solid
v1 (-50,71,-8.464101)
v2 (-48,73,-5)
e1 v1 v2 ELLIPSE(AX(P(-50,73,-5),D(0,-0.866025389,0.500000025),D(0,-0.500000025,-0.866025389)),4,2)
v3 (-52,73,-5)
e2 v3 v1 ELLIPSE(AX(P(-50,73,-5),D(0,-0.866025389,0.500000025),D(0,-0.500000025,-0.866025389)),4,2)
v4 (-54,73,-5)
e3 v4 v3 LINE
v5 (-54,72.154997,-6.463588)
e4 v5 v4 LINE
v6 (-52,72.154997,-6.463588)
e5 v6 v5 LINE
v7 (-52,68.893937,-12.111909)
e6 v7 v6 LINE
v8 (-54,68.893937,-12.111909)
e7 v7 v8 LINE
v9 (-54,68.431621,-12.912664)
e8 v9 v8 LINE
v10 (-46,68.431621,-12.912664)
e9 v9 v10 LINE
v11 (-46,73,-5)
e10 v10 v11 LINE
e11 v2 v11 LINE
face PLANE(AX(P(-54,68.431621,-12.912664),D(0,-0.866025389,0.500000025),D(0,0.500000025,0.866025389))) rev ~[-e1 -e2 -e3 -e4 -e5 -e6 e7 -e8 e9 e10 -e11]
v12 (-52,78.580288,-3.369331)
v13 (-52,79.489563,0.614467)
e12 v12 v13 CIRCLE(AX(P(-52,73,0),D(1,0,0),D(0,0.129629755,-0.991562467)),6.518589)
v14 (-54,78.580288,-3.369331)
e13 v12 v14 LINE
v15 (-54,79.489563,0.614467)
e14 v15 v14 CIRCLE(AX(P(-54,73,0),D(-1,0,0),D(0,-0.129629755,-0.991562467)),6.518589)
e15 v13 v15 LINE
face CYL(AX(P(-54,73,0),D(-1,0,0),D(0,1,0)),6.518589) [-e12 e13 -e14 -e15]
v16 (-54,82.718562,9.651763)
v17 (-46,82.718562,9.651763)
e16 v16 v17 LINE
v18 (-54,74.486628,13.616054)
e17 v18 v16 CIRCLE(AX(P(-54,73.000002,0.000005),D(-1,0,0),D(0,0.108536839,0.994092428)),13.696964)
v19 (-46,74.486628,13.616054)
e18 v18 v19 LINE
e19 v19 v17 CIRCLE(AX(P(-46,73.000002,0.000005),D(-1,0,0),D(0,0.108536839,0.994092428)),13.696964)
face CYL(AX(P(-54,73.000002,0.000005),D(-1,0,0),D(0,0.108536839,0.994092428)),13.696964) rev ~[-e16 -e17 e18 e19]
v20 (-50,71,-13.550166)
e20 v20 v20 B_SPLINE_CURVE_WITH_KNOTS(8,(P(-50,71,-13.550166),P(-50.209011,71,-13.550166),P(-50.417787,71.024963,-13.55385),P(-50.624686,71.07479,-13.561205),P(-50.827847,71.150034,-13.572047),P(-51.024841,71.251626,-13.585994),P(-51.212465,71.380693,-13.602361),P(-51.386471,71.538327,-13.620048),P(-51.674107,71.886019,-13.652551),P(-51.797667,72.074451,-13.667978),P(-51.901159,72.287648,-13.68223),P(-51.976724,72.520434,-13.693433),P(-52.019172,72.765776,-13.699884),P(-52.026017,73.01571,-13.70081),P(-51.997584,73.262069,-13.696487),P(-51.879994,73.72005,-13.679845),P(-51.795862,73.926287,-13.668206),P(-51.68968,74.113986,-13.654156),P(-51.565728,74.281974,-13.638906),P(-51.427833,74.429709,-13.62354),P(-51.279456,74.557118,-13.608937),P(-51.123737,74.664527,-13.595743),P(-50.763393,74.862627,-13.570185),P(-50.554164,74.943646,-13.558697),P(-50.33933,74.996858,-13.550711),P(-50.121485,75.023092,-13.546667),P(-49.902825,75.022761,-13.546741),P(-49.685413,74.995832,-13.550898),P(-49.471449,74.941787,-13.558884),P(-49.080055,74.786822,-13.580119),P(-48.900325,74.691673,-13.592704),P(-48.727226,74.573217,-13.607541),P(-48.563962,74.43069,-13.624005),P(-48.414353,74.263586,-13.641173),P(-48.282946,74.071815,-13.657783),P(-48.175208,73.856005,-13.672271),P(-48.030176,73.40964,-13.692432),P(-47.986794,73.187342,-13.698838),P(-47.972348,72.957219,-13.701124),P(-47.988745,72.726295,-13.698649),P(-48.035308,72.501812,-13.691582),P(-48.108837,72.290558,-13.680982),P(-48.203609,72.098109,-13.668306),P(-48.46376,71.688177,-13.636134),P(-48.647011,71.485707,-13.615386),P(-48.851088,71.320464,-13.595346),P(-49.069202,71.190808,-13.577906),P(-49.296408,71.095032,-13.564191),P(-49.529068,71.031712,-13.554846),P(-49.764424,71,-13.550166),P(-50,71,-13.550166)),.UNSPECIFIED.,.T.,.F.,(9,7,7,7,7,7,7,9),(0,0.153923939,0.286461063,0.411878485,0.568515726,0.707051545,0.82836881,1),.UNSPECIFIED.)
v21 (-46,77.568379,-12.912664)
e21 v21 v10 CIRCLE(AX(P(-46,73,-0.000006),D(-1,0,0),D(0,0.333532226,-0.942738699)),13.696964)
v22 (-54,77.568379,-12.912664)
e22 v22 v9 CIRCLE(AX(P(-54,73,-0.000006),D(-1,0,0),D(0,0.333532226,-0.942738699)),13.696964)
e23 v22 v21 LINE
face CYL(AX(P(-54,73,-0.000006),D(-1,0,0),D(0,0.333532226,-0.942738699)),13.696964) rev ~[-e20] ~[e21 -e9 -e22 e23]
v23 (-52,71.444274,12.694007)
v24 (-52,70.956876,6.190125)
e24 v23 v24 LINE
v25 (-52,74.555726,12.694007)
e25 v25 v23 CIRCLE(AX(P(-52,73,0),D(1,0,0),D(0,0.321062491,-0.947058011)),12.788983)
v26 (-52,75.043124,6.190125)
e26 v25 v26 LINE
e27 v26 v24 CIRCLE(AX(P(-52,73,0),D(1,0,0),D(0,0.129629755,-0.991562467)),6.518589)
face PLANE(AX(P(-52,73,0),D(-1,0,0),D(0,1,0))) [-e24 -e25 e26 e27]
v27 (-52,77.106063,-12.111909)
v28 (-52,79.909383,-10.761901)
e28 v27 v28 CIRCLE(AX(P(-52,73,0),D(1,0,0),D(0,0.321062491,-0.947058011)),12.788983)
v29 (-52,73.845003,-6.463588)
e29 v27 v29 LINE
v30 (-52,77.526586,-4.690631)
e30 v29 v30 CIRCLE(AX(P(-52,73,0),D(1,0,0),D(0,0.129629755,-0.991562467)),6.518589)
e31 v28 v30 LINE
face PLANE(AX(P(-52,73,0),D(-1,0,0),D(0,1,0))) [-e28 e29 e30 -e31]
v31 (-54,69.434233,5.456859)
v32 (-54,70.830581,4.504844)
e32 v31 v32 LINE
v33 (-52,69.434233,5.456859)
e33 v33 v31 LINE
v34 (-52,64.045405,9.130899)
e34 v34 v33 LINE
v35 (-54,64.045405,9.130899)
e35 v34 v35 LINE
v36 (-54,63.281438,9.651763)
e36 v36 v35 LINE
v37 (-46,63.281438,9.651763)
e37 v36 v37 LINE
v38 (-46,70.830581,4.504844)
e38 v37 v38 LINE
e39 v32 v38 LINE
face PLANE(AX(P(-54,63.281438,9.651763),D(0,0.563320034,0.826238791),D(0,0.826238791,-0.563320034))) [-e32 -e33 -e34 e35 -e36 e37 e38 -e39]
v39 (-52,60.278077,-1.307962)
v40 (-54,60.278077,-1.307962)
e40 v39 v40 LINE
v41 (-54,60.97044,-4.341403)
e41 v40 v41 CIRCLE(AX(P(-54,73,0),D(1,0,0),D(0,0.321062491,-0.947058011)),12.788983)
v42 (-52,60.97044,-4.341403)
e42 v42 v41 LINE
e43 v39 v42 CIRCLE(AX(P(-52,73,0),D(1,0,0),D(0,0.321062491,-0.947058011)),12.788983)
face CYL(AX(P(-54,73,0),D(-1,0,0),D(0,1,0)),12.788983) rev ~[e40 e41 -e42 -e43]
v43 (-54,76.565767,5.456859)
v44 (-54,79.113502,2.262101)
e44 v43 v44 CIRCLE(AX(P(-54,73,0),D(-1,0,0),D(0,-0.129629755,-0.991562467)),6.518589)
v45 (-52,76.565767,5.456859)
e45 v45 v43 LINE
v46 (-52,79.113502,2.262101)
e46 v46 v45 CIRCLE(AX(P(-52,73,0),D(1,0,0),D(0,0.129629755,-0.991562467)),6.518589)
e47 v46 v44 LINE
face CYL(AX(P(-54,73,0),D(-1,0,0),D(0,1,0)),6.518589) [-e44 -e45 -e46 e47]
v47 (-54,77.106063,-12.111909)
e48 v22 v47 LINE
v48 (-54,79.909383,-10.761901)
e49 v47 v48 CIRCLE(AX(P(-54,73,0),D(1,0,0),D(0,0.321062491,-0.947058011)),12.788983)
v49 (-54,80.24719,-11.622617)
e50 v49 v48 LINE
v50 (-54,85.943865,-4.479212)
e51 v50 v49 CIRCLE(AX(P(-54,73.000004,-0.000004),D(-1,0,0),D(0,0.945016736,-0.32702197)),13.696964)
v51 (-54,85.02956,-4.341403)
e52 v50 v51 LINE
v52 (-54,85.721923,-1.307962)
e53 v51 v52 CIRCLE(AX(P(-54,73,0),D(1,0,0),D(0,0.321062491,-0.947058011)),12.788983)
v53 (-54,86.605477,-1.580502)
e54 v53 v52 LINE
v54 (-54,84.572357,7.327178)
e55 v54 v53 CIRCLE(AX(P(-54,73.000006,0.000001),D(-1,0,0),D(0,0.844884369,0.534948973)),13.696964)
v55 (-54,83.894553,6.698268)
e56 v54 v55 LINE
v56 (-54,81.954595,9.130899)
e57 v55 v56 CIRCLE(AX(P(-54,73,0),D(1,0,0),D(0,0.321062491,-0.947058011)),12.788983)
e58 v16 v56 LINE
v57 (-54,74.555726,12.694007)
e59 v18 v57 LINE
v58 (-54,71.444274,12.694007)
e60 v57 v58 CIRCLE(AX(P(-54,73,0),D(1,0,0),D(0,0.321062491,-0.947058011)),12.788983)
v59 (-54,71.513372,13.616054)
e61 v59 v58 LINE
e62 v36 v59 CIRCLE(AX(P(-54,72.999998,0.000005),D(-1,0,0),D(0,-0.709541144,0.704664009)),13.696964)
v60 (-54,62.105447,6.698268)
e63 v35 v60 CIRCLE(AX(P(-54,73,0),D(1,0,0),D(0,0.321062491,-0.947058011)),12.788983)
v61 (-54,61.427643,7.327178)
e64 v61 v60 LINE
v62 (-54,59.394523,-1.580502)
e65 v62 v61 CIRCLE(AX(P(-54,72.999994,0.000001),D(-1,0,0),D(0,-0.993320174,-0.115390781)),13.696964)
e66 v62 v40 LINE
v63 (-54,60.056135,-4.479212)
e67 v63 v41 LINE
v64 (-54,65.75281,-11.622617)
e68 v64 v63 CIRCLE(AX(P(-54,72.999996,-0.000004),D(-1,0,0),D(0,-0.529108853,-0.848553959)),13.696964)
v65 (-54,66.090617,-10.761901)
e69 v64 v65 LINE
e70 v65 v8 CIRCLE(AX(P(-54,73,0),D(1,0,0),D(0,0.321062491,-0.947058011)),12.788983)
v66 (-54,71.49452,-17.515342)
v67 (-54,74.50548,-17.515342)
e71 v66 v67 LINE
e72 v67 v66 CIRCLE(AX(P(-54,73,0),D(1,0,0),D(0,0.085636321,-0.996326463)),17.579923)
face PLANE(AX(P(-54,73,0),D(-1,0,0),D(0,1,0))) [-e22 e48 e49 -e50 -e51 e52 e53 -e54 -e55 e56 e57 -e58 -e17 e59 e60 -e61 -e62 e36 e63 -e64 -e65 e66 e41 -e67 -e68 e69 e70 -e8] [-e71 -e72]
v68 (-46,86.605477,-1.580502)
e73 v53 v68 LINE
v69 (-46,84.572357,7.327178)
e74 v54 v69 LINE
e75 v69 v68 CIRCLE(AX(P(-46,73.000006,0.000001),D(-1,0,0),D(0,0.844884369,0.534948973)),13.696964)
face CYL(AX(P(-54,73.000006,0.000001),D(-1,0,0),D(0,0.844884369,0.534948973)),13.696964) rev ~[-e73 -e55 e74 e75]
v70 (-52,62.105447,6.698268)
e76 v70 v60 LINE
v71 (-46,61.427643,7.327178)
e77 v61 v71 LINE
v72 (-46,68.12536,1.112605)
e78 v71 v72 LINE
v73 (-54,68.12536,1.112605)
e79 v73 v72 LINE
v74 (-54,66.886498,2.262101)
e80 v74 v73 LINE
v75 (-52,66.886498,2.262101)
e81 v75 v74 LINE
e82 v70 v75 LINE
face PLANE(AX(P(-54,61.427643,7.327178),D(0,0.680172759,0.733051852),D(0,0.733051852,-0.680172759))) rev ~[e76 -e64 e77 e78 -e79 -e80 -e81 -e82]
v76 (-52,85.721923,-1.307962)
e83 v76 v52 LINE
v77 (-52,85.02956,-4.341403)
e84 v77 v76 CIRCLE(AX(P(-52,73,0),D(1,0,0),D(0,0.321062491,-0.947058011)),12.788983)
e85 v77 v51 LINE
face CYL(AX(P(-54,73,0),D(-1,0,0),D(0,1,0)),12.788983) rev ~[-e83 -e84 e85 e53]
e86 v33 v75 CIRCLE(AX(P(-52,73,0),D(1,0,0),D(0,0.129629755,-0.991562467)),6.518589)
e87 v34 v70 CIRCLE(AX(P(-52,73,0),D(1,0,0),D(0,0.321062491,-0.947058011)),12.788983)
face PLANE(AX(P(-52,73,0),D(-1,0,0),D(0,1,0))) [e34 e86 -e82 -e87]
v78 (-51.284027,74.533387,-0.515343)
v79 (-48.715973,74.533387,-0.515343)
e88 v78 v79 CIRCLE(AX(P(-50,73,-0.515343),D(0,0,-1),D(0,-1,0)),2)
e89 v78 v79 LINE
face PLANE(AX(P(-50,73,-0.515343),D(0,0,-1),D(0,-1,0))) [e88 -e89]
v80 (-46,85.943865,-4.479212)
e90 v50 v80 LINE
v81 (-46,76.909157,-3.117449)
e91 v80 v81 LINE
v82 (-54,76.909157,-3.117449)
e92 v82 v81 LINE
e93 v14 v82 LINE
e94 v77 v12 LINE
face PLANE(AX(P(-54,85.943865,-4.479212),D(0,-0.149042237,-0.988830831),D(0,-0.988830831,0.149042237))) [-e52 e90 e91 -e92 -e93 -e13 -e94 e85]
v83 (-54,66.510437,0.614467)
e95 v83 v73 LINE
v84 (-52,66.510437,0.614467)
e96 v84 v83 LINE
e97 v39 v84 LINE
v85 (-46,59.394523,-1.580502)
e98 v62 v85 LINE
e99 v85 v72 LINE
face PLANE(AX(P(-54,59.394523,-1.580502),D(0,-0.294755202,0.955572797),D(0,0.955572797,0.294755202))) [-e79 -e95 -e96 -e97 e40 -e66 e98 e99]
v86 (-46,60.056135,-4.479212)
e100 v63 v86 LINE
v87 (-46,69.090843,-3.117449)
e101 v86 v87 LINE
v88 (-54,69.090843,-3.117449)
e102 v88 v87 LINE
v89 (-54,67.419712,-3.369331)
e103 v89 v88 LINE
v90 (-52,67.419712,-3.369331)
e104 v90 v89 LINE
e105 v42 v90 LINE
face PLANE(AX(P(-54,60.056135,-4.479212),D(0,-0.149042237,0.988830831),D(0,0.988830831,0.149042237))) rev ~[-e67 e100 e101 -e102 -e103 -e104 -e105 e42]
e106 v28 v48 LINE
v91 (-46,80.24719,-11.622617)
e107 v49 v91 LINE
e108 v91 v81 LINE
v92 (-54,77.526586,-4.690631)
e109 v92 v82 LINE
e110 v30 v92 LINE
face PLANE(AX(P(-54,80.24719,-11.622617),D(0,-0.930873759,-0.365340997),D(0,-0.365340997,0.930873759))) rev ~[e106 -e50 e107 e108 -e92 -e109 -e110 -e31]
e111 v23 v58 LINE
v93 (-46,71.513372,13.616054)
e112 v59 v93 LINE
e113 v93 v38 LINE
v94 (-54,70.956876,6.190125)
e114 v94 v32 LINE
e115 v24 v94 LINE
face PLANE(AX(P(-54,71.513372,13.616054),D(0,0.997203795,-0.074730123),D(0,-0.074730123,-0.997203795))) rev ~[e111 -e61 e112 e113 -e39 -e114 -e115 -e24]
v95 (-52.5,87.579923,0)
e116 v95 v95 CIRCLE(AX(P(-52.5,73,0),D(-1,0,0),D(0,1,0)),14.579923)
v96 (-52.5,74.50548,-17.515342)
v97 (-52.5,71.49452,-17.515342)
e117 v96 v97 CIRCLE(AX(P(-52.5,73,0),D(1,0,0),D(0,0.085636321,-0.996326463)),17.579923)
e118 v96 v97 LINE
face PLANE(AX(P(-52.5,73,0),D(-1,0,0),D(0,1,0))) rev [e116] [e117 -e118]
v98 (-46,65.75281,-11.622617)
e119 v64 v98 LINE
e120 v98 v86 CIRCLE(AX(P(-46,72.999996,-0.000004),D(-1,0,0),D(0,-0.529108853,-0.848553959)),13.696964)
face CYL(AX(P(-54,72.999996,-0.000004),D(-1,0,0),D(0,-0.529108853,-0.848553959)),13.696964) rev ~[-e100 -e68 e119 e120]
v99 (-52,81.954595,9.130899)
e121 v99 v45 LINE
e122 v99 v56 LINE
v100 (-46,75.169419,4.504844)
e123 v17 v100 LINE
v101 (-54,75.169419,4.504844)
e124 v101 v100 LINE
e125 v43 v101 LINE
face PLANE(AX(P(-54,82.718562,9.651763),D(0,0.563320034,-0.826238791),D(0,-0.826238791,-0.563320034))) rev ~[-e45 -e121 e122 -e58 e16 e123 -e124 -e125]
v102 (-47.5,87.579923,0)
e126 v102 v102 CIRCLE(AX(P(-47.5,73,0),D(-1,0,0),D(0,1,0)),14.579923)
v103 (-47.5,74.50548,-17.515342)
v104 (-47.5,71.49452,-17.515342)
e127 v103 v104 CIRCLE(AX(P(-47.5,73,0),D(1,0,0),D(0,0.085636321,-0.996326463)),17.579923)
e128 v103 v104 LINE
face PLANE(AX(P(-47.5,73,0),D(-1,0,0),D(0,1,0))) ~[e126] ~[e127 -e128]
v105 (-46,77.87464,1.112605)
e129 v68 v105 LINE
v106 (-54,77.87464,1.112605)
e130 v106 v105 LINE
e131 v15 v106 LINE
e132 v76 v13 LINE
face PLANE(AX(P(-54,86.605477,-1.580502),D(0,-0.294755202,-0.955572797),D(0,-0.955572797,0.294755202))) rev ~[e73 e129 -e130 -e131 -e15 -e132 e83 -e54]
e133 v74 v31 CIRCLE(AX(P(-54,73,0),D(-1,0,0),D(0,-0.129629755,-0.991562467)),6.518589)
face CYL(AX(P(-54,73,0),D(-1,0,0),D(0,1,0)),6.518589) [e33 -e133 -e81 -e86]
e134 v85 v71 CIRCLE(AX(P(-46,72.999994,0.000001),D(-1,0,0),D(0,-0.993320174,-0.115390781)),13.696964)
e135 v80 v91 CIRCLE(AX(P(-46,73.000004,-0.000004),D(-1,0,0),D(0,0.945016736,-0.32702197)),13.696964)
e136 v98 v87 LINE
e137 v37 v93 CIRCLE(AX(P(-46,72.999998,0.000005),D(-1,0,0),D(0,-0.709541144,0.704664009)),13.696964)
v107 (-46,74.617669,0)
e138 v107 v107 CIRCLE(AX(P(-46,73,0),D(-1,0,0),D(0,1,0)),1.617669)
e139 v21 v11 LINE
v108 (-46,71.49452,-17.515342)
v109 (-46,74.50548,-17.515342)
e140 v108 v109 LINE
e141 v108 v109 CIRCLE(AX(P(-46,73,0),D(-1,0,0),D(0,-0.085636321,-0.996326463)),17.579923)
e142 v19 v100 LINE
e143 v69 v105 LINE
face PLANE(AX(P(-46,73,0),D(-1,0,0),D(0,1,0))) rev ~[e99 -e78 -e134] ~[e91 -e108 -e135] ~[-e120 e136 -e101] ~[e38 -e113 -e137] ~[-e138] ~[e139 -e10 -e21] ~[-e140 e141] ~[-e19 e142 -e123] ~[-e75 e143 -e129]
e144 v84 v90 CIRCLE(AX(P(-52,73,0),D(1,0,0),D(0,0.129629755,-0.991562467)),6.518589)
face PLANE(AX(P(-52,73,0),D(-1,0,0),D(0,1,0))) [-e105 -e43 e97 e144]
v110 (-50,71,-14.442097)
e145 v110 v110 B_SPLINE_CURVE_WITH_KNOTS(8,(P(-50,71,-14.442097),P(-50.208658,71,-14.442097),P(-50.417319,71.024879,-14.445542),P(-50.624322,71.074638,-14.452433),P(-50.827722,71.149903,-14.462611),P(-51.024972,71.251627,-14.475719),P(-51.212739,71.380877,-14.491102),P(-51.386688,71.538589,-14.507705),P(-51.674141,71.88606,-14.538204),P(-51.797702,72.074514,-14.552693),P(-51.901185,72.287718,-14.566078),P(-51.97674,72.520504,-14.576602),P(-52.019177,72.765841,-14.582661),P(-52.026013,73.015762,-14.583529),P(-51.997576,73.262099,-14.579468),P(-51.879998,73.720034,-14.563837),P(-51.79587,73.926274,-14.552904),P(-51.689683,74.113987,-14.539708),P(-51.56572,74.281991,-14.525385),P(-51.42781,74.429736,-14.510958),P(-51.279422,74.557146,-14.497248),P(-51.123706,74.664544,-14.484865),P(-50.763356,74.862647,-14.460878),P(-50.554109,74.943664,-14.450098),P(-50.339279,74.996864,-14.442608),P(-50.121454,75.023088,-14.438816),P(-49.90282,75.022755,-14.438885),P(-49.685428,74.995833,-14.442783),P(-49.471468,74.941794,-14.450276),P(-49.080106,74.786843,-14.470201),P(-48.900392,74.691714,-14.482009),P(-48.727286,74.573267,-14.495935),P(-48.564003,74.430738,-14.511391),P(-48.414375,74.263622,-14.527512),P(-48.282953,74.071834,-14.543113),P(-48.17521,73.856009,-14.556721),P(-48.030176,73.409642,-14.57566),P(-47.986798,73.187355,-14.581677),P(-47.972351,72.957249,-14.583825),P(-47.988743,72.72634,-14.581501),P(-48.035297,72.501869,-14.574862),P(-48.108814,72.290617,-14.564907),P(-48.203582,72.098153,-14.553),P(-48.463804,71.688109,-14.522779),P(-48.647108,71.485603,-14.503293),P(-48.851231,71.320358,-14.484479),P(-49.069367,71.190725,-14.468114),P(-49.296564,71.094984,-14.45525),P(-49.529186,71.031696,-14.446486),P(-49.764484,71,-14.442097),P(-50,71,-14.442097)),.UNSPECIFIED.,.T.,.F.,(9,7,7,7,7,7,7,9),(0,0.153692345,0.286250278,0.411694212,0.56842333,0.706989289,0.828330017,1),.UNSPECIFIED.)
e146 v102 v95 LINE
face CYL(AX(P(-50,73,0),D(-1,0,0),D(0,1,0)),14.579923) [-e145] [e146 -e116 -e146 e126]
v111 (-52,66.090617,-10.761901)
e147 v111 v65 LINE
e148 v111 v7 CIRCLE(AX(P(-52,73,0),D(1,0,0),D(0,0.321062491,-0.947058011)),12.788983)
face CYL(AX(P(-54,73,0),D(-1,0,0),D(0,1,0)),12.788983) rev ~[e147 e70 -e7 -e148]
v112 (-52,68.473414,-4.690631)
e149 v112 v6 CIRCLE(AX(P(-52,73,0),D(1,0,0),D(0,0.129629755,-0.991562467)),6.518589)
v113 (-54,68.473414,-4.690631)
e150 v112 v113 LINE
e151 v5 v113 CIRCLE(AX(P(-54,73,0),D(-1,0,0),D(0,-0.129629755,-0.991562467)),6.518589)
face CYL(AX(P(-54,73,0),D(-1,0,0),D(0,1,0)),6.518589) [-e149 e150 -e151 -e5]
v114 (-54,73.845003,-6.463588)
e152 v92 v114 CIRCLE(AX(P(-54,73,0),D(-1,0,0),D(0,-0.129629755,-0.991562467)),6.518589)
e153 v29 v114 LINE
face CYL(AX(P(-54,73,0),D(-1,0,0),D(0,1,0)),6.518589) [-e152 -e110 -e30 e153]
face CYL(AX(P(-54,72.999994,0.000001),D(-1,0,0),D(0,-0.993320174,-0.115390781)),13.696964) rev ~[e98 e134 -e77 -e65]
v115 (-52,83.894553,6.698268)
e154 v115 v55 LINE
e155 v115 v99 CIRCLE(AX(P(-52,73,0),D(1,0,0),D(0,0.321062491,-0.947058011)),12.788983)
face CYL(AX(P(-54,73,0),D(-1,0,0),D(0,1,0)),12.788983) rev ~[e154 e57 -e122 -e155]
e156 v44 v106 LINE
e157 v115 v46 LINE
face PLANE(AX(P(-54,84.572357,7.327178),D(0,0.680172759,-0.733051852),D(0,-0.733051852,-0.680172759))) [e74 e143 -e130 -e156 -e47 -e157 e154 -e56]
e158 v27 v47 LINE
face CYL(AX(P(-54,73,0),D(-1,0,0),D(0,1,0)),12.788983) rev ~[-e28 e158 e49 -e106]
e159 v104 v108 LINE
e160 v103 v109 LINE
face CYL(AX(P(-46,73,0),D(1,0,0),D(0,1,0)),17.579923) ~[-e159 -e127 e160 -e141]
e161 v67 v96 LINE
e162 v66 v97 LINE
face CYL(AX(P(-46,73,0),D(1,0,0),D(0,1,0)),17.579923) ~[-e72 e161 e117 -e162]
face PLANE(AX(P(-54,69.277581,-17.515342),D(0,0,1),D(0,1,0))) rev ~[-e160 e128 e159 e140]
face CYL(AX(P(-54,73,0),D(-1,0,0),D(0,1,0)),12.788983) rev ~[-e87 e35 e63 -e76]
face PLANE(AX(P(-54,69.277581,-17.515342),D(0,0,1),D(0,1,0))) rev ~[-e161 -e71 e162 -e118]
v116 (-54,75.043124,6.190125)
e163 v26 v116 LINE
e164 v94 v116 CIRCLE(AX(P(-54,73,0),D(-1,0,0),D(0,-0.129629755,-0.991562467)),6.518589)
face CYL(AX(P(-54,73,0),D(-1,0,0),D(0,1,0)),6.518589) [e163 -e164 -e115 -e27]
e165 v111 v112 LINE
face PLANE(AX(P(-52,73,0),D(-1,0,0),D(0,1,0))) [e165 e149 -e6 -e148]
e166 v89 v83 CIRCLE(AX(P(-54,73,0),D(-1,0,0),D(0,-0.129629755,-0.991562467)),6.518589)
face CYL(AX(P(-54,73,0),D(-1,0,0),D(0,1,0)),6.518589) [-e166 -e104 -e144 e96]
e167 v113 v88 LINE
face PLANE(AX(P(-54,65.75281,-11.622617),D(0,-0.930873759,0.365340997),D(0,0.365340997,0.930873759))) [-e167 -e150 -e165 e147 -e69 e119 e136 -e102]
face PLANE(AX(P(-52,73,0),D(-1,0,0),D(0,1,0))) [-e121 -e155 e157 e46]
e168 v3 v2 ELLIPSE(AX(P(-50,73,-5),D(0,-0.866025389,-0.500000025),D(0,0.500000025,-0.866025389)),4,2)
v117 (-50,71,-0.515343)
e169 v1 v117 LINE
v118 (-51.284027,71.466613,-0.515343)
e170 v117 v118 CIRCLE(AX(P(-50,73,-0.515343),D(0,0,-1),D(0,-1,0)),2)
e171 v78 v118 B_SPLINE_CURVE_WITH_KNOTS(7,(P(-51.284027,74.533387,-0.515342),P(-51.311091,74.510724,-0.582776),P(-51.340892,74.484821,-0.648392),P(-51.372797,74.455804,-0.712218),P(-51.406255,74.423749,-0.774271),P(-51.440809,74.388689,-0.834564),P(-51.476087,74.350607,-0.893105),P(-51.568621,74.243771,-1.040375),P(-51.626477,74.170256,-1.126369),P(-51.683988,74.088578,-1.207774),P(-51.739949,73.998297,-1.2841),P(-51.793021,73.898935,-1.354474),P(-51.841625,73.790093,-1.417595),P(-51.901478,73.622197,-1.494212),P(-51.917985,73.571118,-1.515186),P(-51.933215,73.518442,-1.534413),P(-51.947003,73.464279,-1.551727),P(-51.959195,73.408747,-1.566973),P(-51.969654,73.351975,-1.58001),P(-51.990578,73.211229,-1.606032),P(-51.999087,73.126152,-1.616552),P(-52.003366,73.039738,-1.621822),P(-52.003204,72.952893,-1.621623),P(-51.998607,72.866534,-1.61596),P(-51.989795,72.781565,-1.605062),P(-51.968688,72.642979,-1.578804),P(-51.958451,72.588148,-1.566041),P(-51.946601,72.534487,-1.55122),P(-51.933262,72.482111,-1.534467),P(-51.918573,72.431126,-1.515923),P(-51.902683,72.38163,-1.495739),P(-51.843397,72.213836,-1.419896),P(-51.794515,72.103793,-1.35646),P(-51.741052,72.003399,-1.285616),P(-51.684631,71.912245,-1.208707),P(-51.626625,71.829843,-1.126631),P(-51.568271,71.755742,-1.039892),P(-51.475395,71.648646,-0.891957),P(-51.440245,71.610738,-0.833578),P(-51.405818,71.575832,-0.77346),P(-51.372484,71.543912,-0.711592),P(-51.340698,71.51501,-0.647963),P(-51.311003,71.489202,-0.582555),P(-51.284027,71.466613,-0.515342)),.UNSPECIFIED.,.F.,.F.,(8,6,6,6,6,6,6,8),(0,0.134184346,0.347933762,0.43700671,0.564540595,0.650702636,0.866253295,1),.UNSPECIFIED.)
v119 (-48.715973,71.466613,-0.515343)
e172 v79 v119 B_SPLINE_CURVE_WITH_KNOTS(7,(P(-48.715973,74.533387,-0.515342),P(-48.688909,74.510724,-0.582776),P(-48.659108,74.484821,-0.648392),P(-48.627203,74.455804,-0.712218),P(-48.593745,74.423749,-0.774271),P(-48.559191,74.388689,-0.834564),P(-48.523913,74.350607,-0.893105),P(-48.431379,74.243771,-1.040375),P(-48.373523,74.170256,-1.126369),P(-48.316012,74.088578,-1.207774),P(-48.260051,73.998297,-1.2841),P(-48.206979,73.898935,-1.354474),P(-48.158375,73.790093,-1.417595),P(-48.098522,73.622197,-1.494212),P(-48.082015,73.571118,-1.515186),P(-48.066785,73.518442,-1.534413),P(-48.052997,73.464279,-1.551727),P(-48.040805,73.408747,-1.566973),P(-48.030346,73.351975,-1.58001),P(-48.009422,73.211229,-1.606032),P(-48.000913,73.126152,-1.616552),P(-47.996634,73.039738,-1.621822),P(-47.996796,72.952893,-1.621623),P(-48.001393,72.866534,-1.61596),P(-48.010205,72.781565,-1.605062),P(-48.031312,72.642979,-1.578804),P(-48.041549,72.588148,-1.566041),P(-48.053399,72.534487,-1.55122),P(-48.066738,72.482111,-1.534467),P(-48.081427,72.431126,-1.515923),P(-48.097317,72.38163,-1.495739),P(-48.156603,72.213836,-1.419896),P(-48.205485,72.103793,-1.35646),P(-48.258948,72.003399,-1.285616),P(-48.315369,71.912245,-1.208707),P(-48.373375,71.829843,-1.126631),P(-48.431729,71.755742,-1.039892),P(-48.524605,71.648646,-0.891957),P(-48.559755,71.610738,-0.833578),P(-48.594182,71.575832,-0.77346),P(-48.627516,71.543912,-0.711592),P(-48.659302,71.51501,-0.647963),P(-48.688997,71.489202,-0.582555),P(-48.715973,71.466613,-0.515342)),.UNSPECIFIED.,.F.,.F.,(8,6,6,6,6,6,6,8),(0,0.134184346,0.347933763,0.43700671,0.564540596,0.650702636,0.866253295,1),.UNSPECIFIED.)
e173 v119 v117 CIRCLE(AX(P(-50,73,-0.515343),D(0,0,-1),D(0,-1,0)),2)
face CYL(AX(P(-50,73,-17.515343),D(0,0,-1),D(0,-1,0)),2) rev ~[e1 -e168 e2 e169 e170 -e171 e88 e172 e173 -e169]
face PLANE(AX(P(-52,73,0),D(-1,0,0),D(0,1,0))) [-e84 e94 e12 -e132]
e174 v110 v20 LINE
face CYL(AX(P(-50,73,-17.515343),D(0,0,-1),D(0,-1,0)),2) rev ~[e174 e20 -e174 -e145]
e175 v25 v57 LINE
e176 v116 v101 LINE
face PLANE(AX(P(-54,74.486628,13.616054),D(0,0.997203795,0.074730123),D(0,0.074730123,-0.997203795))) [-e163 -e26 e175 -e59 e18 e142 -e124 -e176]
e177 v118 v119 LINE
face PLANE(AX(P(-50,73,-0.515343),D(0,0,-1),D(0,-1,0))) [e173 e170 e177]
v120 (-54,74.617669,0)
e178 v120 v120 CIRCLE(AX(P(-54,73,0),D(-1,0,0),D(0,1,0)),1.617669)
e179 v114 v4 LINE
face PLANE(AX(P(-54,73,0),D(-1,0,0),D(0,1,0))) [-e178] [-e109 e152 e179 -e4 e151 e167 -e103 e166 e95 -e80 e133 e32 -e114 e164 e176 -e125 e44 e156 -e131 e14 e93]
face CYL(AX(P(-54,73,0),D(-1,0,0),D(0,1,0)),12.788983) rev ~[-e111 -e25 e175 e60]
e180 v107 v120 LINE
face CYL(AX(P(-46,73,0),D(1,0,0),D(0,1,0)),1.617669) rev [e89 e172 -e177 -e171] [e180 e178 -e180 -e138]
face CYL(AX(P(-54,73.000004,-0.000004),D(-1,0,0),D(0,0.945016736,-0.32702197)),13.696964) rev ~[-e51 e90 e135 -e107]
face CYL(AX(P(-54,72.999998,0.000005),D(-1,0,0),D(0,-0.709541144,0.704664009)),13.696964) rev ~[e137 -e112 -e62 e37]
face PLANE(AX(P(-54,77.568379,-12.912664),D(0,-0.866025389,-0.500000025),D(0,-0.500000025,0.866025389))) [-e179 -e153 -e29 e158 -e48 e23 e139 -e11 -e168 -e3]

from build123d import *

# Parameters (mm, degrees)
SKETCH100_R             = 17.579923
SKETCH100_R_2           = 1.617669
PAD044_DEPTH            = 8
SKETCH101_W             = 5
SKETCH101_H             = 3
SKETCH102_R             = 12.788983
SKETCH102_R_2           = 6.518589
POCKET072_DEPTH         = 2
SKETCH103_W             = 7.319854
SKETCH103_H             = 4.413105
POCKET073_DEPTH         = 8.001
POCKET075_DEPTH         = 108.636829
POLARPATTERN003_COUNT   = 7
SKETCH112_R             = 2
POCKET079_DEPTH         = 17
BODY019_PLACEMENT_ANGLE = 180


with BuildPart() as part:
    # Sketch100 → Pad044 (new body)
    with BuildSketch(Plane.YZ):
        Circle(SKETCH100_R)
        Circle(SKETCH100_R_2, mode=Mode.SUBTRACT)
    extrude(amount=PAD044_DEPTH)

    # Sketch101 → Groove003 (revolve, cut)
    with BuildSketch(Plane.XY):
        with Locations((4, 16.079923)):
            Rectangle(SKETCH101_W, SKETCH101_H)
    revolve(axis=Axis((0, 0, 0), (1, 0, 0)), mode=Mode.SUBTRACT)

    # Sketch102 (on Face6 of Groove003) → Pocket072 (cut)
    with BuildSketch(Plane.YZ.offset(8)):
        Circle(SKETCH102_R)
        Circle(SKETCH102_R_2, mode=Mode.SUBTRACT)
    extrude(amount=-POCKET072_DEPTH, mode=Mode.SUBTRACT)

    # Sketch103 (on Face11 of Pocket072) → Pocket073 (cut, through all)
    with BuildSketch(Plane.YZ.offset(8)):
        with Locations((-0.062492, 19.721895)):
            Rectangle(SKETCH103_W, SKETCH103_H)
    extrude(amount=-POCKET073_DEPTH, mode=Mode.SUBTRACT)

    # Sketch105 → Pocket075 (cut, through all)
    with BuildSketch(Plane.YZ.offset(8)):
        with BuildLine():
            ThreePointArc((4.568379, 12.912664), (0, 13.69697), (-4.568379, 12.912664))
            Line((-4.568379, 12.912664), (0, 5))
            Line((4.568379, 12.912664), (0, 5))
        make_face()
    pocket075 = extrude(amount=-POCKET075_DEPTH, mode=Mode.SUBTRACT)

    # PolarPattern003: Pocket075 ×7 about axis
    polarpattern003_axis = Axis((0, 0, 0), (1, 0, 0))
    for i in range(1, POLARPATTERN003_COUNT):
        add(pocket075.rotate(polarpattern003_axis, i * 360 / POLARPATTERN003_COUNT), mode=Mode.SUBTRACT)

    # Sketch112 (on Face55 of PolarPattern003) → Pocket079 (cut)
    with BuildSketch(Plane(origin=(0, 0, 17.515343), x_dir=(0, -1, 0), z_dir=(0, 0, 1))):
        with Locations((0, 4)):
            Circle(SKETCH112_R)
    extrude(amount=-POCKET079_DEPTH, mode=Mode.SUBTRACT)


with BuildPart() as part_1:
    # Body016 placement: moved
    add(part.part.moved(Location((46, 73, 0))))


with BuildPart() as part_2:
    # Body019 placement: moved
    add(part_1.part.rotate(Axis((0, 0, 0), (0, 1, 0)), BODY019_PLACEMENT_ANGLE))


solid = part_2.part
